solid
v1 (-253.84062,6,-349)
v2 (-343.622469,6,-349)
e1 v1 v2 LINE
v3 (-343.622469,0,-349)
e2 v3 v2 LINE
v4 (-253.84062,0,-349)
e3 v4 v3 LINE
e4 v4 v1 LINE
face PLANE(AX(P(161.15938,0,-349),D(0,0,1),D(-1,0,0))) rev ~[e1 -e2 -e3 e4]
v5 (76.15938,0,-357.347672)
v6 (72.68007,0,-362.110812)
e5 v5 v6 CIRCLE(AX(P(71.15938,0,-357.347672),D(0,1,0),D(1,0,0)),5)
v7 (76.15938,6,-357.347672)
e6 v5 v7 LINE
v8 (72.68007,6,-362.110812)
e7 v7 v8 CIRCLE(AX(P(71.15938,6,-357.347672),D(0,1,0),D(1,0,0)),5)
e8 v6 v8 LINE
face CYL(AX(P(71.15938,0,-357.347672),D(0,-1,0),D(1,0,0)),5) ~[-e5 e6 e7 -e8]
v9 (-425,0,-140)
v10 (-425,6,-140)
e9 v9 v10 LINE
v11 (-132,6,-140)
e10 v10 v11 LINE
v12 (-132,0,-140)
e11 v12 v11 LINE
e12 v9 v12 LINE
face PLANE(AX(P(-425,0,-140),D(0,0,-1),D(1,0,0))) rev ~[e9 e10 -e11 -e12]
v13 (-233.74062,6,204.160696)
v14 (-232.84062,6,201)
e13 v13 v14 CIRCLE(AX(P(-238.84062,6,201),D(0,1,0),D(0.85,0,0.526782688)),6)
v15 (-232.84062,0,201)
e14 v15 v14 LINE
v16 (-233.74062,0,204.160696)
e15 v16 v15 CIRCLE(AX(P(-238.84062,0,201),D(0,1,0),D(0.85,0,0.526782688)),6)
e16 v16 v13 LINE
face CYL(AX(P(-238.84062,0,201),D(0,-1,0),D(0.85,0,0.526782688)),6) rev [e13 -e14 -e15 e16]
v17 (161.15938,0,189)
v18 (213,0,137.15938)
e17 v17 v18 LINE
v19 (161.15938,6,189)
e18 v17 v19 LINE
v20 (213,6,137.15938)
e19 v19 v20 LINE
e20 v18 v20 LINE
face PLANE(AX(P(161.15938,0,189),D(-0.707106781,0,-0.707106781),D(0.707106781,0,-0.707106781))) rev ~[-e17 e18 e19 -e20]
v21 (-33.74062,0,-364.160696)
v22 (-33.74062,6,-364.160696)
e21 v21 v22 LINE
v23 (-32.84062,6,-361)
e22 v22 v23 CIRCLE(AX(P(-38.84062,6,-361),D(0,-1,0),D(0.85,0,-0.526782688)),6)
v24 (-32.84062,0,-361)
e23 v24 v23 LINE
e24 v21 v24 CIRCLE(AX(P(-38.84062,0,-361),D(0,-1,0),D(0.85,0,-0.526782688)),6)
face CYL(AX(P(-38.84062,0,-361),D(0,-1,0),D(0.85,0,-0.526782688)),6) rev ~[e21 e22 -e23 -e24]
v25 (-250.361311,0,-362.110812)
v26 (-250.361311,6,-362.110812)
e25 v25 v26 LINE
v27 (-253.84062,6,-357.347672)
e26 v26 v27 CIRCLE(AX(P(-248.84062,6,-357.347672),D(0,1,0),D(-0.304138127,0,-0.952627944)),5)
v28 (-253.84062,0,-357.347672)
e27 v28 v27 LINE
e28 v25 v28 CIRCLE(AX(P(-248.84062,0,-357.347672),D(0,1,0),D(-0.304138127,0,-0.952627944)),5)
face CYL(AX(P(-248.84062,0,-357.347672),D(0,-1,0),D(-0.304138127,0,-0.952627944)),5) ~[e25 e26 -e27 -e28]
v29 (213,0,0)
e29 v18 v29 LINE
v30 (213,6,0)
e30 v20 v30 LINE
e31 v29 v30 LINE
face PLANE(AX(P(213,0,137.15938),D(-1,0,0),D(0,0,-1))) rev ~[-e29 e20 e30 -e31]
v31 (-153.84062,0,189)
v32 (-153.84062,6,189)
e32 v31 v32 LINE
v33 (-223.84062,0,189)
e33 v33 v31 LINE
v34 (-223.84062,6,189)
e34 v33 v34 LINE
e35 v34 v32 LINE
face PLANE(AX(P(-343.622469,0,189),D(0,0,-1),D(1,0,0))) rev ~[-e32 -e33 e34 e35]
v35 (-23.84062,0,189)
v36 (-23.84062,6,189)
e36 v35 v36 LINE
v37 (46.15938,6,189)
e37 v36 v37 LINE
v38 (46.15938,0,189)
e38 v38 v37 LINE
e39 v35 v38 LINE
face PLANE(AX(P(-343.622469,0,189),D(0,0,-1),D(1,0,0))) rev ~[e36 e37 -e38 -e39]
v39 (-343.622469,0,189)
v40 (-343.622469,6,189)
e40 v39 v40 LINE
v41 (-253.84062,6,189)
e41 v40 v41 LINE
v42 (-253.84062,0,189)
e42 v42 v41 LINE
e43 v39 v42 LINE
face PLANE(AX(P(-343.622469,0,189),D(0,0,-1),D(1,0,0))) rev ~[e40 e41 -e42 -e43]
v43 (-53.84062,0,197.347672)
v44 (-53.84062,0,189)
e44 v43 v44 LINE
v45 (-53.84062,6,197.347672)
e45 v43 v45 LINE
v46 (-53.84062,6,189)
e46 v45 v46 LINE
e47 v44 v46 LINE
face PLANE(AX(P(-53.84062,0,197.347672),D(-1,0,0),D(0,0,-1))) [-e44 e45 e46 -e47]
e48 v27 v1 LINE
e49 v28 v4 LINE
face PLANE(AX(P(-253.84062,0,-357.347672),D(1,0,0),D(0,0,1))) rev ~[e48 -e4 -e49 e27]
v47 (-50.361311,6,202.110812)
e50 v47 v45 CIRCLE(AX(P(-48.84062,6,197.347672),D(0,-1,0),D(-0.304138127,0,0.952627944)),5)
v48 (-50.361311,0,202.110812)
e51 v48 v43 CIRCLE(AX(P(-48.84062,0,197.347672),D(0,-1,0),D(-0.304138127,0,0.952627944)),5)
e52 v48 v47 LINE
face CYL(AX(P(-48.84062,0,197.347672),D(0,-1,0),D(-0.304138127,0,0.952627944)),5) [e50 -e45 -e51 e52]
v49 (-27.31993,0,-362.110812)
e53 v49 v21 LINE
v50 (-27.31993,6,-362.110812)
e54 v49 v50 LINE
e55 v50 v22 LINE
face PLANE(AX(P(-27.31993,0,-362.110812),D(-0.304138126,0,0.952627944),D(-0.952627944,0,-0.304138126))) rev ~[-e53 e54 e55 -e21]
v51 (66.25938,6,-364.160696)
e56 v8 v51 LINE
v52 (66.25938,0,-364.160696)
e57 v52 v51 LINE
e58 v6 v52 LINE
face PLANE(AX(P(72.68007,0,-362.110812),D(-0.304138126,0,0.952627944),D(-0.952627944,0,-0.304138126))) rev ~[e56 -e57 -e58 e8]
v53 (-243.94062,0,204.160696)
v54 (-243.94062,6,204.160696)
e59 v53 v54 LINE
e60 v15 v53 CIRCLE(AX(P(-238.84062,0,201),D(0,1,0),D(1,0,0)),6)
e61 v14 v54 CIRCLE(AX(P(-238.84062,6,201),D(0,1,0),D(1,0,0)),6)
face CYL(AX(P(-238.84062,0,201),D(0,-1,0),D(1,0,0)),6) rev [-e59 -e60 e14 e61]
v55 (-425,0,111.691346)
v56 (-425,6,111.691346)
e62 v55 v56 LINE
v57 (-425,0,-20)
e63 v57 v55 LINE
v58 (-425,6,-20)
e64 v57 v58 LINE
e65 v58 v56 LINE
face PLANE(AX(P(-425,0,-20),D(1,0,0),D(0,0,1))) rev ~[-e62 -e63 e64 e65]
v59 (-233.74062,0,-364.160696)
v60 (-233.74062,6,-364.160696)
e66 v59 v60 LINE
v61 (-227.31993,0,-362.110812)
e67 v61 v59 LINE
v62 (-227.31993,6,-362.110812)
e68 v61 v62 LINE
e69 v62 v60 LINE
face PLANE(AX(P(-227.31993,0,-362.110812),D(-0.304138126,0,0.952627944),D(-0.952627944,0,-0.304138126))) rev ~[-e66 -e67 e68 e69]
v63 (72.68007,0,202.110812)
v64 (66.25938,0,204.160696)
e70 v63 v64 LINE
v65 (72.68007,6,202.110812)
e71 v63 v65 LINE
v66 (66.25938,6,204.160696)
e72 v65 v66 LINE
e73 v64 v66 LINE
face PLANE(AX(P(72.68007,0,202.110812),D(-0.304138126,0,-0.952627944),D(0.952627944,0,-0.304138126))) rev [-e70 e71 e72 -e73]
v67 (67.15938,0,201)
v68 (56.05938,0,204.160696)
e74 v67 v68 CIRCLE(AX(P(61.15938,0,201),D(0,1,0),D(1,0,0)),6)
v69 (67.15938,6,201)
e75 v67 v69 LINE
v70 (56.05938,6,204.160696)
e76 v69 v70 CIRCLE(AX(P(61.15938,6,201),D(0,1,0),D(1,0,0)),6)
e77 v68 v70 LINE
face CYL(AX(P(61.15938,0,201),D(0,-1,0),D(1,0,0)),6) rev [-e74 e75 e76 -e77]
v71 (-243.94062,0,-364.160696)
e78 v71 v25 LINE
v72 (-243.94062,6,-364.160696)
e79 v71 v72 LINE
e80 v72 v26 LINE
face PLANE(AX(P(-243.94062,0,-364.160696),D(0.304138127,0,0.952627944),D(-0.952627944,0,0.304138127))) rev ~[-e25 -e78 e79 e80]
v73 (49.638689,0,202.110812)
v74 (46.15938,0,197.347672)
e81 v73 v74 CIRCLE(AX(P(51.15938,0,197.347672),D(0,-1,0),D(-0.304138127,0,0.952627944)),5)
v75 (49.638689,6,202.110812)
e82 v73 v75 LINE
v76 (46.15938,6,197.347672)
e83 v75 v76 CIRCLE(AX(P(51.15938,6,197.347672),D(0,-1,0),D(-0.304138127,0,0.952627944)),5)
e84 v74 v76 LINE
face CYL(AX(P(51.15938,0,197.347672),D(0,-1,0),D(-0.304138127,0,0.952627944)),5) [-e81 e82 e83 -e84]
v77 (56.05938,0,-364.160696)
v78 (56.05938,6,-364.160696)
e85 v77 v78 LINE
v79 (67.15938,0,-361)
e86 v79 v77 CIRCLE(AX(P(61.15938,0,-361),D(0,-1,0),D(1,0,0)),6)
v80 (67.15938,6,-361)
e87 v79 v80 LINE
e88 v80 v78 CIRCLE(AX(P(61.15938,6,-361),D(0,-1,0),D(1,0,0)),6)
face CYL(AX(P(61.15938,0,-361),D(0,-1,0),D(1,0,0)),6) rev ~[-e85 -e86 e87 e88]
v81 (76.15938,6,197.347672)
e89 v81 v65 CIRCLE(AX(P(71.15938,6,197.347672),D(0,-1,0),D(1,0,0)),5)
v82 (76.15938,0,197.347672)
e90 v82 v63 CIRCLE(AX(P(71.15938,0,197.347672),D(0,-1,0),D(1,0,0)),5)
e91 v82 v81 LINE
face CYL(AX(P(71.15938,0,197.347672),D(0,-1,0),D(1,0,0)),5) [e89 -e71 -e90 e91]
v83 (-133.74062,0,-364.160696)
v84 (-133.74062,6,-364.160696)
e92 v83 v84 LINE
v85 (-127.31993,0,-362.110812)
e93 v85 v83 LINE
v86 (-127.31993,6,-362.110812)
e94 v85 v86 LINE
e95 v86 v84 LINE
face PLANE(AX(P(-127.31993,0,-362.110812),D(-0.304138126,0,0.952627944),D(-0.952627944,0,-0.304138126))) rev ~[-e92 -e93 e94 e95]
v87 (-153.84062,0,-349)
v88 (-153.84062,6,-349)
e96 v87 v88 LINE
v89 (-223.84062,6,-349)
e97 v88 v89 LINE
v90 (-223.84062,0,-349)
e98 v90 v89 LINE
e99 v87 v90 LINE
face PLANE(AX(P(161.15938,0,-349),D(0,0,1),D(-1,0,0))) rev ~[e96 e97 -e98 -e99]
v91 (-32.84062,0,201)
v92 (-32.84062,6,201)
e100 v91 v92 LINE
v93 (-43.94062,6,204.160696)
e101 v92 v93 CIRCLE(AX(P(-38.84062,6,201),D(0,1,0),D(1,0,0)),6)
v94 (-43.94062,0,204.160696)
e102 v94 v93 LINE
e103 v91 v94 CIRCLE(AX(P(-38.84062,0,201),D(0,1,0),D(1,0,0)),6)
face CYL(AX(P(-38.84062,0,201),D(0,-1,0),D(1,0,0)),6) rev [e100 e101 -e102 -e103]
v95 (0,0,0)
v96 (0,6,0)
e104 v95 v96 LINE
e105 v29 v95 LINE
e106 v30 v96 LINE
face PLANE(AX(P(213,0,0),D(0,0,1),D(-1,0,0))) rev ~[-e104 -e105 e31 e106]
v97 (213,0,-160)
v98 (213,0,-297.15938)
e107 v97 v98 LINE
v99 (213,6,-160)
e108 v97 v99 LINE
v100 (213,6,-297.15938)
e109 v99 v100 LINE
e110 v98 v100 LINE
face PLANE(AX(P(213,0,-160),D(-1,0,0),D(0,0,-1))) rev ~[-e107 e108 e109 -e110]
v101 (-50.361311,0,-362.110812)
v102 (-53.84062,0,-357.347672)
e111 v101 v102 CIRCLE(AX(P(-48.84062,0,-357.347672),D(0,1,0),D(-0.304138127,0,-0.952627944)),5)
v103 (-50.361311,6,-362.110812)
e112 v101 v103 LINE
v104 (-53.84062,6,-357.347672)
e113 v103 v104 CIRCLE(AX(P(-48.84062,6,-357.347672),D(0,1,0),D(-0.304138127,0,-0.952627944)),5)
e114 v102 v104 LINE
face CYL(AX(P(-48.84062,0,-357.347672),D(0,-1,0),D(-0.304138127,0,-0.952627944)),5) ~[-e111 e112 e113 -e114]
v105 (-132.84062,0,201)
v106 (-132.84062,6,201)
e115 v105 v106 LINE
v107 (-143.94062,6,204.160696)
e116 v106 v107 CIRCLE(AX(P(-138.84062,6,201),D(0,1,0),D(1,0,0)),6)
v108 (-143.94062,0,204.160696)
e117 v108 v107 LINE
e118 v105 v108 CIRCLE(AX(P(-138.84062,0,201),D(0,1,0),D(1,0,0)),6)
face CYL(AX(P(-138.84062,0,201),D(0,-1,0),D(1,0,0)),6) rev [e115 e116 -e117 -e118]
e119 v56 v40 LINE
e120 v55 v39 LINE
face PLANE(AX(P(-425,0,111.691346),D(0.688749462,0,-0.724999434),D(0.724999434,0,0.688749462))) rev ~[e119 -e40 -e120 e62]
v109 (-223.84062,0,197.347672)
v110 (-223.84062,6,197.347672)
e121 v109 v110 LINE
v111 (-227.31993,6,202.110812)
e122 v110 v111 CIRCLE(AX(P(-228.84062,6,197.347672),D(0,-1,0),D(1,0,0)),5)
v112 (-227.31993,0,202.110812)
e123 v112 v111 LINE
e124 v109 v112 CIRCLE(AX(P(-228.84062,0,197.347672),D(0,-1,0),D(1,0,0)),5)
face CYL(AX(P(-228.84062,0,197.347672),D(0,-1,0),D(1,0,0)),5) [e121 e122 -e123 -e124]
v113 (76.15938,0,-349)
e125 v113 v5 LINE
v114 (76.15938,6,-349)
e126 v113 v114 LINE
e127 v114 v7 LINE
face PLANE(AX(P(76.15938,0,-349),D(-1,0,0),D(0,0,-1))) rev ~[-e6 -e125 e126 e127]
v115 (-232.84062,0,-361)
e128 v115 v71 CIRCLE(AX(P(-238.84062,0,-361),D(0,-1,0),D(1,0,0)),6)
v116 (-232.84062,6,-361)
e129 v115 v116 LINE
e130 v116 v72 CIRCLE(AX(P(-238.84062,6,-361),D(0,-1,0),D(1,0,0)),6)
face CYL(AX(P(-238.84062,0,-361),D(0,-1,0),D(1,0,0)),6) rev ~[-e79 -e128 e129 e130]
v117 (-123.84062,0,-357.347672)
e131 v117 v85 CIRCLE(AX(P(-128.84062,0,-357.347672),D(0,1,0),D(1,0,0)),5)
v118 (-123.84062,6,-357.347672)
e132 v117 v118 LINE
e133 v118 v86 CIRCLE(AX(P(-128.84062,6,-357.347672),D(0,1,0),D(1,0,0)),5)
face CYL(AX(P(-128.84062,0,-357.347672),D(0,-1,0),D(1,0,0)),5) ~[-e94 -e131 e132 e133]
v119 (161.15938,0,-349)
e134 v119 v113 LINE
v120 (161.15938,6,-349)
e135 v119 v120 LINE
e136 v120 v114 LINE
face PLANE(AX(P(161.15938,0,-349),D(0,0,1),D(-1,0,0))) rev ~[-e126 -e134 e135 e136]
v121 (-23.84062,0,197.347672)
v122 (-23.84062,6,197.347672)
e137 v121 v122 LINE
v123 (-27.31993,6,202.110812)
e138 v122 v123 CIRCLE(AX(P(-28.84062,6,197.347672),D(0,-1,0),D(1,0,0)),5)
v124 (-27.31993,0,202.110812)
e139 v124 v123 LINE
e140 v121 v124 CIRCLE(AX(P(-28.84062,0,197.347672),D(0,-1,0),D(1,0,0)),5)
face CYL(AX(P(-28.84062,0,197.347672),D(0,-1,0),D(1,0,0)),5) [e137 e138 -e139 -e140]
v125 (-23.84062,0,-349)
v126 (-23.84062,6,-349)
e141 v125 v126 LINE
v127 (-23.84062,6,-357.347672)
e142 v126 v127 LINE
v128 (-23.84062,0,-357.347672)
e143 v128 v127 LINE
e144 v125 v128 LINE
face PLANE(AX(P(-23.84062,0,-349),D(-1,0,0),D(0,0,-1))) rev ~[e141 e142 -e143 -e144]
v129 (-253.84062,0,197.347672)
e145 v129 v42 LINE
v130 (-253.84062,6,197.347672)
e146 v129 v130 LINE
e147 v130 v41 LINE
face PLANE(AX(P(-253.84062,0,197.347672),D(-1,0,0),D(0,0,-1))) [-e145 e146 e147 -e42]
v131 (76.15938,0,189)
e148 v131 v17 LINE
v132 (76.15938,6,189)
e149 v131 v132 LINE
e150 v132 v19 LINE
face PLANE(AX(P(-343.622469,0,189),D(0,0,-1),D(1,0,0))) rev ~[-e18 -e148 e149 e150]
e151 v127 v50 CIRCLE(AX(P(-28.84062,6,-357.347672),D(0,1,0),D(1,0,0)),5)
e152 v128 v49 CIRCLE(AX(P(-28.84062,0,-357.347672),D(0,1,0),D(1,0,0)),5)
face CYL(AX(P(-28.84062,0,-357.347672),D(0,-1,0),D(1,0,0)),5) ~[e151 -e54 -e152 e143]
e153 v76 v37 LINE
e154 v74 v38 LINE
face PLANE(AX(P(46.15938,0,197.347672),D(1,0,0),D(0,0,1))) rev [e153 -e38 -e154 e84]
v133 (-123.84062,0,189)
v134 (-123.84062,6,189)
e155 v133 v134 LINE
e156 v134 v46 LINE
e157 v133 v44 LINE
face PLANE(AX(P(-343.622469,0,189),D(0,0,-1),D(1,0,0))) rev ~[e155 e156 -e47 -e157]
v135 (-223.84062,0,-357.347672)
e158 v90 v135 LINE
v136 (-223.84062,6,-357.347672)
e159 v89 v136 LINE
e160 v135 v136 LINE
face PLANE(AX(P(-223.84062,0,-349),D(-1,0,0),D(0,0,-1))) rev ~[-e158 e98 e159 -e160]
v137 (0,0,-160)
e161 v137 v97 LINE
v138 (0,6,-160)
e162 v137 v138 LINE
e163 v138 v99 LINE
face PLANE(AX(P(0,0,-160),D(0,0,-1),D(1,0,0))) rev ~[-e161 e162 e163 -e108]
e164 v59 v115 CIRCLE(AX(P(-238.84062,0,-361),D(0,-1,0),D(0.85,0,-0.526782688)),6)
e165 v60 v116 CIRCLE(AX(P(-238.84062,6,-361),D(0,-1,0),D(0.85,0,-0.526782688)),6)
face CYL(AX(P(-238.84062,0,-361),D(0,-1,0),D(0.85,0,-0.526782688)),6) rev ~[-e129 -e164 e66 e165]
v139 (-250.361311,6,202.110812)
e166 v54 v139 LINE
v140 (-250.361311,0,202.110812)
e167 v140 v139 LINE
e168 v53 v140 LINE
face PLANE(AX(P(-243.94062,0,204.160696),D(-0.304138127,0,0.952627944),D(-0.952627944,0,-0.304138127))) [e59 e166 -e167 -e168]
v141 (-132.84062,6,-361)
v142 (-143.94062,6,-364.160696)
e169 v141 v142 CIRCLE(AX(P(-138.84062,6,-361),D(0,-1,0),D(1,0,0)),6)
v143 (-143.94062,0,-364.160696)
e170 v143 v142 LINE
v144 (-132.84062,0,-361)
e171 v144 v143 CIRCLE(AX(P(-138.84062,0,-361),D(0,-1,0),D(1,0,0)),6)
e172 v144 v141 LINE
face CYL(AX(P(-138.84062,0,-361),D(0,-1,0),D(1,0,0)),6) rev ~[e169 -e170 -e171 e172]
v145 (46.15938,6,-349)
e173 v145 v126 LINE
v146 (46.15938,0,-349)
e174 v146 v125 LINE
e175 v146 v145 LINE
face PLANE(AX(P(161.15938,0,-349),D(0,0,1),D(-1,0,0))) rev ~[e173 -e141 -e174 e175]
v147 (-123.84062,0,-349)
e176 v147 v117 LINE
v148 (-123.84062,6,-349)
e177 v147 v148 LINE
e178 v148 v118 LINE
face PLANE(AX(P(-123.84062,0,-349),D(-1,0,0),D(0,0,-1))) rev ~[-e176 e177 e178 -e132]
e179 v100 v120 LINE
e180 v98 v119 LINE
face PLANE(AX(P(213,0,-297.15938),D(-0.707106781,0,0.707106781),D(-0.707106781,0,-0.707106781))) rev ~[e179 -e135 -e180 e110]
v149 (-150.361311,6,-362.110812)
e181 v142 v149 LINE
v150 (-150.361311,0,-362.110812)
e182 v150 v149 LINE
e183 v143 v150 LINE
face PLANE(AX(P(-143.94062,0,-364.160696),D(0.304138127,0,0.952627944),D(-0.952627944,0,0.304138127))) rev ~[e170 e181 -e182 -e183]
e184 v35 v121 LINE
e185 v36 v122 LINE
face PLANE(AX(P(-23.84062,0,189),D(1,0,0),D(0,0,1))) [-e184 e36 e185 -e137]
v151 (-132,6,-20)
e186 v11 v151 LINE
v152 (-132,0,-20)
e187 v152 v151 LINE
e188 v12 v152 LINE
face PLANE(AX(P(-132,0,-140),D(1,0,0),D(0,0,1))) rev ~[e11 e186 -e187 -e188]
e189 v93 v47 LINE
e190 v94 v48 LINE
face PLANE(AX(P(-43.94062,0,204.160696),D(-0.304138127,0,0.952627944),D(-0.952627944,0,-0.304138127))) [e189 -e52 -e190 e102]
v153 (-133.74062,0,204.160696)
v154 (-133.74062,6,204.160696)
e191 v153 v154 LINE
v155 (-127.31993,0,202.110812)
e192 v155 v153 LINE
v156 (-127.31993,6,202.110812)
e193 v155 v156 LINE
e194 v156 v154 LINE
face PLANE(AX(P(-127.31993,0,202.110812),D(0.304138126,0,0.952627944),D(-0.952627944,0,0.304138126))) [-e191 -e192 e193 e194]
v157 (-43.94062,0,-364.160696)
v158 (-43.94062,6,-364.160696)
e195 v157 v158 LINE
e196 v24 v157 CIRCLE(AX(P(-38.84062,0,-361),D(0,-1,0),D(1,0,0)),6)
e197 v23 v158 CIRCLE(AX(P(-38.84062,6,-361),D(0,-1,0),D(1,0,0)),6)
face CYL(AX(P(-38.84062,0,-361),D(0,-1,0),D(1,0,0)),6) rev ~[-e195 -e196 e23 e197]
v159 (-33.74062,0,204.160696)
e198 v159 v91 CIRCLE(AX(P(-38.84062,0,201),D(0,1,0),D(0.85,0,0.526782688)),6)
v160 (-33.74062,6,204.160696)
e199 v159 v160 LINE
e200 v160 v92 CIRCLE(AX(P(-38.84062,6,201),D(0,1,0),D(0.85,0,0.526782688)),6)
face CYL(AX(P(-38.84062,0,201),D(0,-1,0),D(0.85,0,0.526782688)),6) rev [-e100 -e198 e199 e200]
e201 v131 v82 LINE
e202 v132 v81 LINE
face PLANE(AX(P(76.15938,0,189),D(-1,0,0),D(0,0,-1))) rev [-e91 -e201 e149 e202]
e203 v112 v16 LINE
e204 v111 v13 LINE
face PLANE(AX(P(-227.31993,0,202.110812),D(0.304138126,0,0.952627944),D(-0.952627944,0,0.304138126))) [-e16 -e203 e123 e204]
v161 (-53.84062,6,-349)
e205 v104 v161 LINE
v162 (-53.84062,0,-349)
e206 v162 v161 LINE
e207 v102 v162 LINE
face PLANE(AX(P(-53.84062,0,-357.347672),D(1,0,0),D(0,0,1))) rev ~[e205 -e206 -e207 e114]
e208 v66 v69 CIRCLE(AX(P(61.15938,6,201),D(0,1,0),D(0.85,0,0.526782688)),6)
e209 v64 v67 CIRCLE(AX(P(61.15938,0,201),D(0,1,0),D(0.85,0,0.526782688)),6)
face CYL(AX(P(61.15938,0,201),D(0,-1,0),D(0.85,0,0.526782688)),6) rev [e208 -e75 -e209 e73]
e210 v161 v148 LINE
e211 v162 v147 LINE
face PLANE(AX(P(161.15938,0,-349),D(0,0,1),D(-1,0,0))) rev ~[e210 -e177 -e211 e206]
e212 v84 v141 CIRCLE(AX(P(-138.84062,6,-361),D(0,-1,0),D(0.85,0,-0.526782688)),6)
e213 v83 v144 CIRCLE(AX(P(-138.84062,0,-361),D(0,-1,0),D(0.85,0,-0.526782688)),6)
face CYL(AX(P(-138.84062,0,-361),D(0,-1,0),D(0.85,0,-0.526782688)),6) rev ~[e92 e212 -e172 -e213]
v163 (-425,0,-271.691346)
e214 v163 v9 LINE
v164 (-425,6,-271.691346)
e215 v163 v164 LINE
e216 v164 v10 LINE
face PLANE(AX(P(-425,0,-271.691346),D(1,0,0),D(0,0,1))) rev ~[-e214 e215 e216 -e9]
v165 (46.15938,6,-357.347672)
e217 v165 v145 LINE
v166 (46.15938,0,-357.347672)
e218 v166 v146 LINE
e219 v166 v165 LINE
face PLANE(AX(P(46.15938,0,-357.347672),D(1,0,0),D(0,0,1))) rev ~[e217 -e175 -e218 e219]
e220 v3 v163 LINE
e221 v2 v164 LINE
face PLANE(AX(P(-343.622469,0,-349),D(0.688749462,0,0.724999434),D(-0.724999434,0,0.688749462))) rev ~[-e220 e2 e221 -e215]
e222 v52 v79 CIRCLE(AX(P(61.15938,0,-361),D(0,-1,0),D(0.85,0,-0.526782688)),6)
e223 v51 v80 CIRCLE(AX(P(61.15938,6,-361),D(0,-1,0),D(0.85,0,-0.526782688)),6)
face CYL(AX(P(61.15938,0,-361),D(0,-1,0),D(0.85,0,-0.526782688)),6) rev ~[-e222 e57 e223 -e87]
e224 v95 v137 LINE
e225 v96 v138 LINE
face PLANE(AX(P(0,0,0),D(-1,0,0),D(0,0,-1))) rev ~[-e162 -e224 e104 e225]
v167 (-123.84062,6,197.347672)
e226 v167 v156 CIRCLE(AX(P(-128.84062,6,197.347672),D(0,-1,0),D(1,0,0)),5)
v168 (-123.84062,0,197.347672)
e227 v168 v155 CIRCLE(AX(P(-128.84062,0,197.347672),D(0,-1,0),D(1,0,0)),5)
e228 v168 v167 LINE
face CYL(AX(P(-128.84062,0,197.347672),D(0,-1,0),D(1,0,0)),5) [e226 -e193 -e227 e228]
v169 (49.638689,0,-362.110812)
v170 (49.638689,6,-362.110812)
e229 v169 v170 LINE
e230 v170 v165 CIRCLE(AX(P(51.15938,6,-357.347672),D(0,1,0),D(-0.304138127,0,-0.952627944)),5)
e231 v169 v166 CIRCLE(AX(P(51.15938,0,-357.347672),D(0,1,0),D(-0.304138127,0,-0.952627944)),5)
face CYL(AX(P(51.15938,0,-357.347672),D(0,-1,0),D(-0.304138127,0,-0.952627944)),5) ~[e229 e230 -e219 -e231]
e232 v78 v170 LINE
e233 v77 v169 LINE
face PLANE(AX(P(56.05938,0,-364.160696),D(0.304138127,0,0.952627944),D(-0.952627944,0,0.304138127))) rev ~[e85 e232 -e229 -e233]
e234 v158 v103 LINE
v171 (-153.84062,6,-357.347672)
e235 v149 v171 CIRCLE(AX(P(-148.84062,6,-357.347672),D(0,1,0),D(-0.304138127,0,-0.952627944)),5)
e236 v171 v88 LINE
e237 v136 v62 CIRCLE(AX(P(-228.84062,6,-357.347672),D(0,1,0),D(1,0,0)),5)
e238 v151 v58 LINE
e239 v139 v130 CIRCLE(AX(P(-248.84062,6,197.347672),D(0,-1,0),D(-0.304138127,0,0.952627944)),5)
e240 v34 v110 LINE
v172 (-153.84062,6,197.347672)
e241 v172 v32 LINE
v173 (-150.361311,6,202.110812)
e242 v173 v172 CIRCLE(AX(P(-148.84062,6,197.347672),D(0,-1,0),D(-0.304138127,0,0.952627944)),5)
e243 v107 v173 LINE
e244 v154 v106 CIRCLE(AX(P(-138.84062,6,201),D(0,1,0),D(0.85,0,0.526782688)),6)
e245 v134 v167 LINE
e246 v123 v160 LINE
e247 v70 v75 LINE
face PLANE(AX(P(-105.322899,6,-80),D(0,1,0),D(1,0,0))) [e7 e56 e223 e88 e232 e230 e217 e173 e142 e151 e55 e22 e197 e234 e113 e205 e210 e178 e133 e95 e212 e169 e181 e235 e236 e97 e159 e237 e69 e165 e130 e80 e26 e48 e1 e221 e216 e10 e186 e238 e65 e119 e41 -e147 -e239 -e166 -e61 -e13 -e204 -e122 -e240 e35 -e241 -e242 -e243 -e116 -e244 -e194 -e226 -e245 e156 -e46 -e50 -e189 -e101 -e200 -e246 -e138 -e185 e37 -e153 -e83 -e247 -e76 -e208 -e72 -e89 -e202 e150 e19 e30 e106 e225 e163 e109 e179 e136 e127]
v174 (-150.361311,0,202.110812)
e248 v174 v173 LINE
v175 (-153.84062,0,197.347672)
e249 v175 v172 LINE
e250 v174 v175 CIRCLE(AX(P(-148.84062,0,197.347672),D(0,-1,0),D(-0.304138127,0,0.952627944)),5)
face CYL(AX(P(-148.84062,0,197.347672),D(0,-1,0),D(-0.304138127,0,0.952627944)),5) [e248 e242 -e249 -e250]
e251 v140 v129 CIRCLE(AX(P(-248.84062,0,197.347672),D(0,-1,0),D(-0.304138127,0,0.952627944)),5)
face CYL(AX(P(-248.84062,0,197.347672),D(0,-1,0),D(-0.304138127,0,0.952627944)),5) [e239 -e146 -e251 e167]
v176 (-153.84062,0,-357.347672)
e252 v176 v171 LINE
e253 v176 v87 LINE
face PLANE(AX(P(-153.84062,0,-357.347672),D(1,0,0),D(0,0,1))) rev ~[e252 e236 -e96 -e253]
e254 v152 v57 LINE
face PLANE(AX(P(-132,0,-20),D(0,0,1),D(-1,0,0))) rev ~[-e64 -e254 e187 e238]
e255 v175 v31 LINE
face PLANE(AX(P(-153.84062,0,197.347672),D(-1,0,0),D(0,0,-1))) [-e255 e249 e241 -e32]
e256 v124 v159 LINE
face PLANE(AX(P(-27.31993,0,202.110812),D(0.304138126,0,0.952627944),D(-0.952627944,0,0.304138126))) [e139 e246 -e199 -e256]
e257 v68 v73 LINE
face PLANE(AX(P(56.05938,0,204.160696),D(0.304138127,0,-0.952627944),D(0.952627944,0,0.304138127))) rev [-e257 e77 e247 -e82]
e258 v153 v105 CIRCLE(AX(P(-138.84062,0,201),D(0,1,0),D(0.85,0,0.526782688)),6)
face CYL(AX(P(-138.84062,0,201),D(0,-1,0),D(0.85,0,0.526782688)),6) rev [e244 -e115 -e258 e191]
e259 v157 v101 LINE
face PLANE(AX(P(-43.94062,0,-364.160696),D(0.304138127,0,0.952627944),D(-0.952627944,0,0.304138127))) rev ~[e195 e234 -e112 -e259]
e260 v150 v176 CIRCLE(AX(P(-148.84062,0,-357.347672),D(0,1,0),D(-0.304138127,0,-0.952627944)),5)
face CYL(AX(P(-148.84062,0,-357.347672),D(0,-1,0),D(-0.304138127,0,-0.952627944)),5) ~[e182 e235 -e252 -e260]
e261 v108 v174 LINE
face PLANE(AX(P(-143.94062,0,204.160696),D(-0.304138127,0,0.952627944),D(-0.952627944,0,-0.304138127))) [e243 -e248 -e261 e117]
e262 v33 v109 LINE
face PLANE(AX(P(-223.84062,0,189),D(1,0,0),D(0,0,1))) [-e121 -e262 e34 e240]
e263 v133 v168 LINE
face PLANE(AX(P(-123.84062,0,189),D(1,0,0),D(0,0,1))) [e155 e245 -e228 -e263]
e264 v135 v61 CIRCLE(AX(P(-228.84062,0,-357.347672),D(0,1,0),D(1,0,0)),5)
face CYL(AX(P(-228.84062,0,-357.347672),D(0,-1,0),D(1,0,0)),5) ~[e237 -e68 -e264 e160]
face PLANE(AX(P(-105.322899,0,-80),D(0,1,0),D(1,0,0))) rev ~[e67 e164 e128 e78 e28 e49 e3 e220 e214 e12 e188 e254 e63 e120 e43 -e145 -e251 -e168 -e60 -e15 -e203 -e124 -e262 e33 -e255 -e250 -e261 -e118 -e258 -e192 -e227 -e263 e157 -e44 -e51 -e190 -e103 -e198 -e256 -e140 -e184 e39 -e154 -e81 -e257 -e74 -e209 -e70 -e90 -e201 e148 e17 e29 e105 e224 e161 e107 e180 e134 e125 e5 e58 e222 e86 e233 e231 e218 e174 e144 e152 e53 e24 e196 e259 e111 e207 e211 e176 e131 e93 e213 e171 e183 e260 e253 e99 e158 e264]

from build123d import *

# Parameters (mm, degrees)
BOSS_EXTRUDE1_DEPTH  = 6
BOSS_EXTRUDE2_DEPTH  = 6
LPATTERN1_COUNT      = 4
LPATTERN1_PITCH      = 100
MIRROR1_COPY_1_DEPTH = 6
MIRROR1_COPY_2_DEPTH = 6
MIRROR1_COPY_3_DEPTH = 6


with BuildPart() as part:
    # Sketch1 → Boss-Extrude1 (new body)
    with BuildSketch(Plane(origin=(0, 0, 0), x_dir=(1, 0, 0), z_dir=(0, 1, 0))):
        Polygon((0, 160), (213, 160), (213, 297.159379566), (161.159379566, 349), (76.159379566, 349), (46.159379566, 349), (-343.622469374, 349), (-425, 271.691345905), (-425, 140), (-132, 140), (-132, 20), (-425, 20), (-425, -111.691345905), (-343.622469374, -189), (161.159379566, -189), (213, -137.159379566), (213, 0), (0, 0), align=None)
    extrude(amount=BOSS_EXTRUDE1_DEPTH)

    # Sketch1<3> → Boss-Extrude2 (add)
    with BuildSketch(Plane(origin=(0, 0, 0), x_dir=(1, 0, 0), z_dir=(0, 1, 0))):
        with BuildLine():
            Line((46.159379566, 349), (76.159379566, 349))
            Line((76.159379566, 349), (76.159379566, 357.347672364))
            ThreePointArc((76.159379566, 357.347672364), (75.196919236, 360.296955907), (72.680070199, 362.110812085))
            Line((72.680070199, 362.110812085), (66.259379566, 364.160696126))
            ThreePointArc((66.259379566, 364.160696126), (66.929994785, 362.643167673), (67.159379566, 361))
            ThreePointArc((67.159379566, 361), (59.516211894, 355.229384781), (56.059379566, 364.160696126))
            Line((56.059379566, 364.160696126), (49.638688934, 362.110812085))
            ThreePointArc((49.638688934, 362.110812085), (47.121839897, 360.296955907), (46.159379566, 357.347672364))
            Line((46.159379566, 357.347672364), (46.159379566, 349))
        make_face()
    boss_extrude2 = extrude(amount=BOSS_EXTRUDE2_DEPTH)

    # LPattern1: Boss-Extrude2 ×4
    with Locations(*[(-i * LPATTERN1_PITCH, 0, 0) for i in range(1, LPATTERN1_COUNT)]):
        add(boss_extrude2)

    # Mirror1: Boss-Extrude2 across plane
    add(boss_extrude2.mirror(Plane.XY.offset(-80)))

    # Mirror1 copy 1 sketch → Mirror1 copy 1 (add)
    with BuildSketch(Plane(origin=(-100, 0, -160), x_dir=(1, 0, 0), z_dir=(0, 1, 0))):
        with BuildLine():
            Line((46.159379566, -349), (76.159379566, -349))
            Line((76.159379566, -349), (76.159379566, -357.347672364))
            ThreePointArc((76.159379566, -357.347672364), (75.196919236, -360.296955907), (72.680070199, -362.110812085))
            Line((72.680070199, -362.110812085), (66.259379566, -364.160696126))
            ThreePointArc((66.259379566, -364.160696126), (66.929994785, -362.643167673), (67.159379566, -361))
            ThreePointArc((67.159379566, -361), (59.516211894, -355.229384781), (56.059379566, -364.160696126))
            Line((56.059379566, -364.160696126), (49.638688934, -362.110812085))
            ThreePointArc((49.638688934, -362.110812085), (47.121839897, -360.296955907), (46.159379566, -357.347672364))
            Line((46.159379566, -357.347672364), (46.159379566, -349))
        make_face()
    extrude(amount=MIRROR1_COPY_1_DEPTH)

    # Mirror1 copy 2 sketch → Mirror1 copy 2 (add)
    with BuildSketch(Plane(origin=(-200, 0, -160), x_dir=(1, 0, 0), z_dir=(0, 1, 0))):
        with BuildLine():
            Line((46.159379566, -349), (76.159379566, -349))
            Line((76.159379566, -349), (76.159379566, -357.347672364))
            ThreePointArc((76.159379566, -357.347672364), (75.196919236, -360.296955907), (72.680070199, -362.110812085))
            Line((72.680070199, -362.110812085), (66.259379566, -364.160696126))
            ThreePointArc((66.259379566, -364.160696126), (66.929994785, -362.643167673), (67.159379566, -361))
            ThreePointArc((67.159379566, -361), (59.516211894, -355.229384781), (56.059379566, -364.160696126))
            Line((56.059379566, -364.160696126), (49.638688934, -362.110812085))
            ThreePointArc((49.638688934, -362.110812085), (47.121839897, -360.296955907), (46.159379566, -357.347672364))
            Line((46.159379566, -357.347672364), (46.159379566, -349))
        make_face()
    extrude(amount=MIRROR1_COPY_2_DEPTH)

    # Mirror1 copy 3 sketch → Mirror1 copy 3 (add)
    with BuildSketch(Plane(origin=(-300, 0, -160), x_dir=(1, 0, 0), z_dir=(0, 1, 0))):
        with BuildLine():
            Line((46.159379566, -349), (76.159379566, -349))
            Line((76.159379566, -349), (76.159379566, -357.347672364))
            ThreePointArc((76.159379566, -357.347672364), (75.196919236, -360.296955907), (72.680070199, -362.110812085))
            Line((72.680070199, -362.110812085), (66.259379566, -364.160696126))
            ThreePointArc((66.259379566, -364.160696126), (66.929994785, -362.643167673), (67.159379566, -361))
            ThreePointArc((67.159379566, -361), (59.516211894, -355.229384781), (56.059379566, -364.160696126))
            Line((56.059379566, -364.160696126), (49.638688934, -362.110812085))
            ThreePointArc((49.638688934, -362.110812085), (47.121839897, -360.296955907), (46.159379566, -357.347672364))
            Line((46.159379566, -357.347672364), (46.159379566, -349))
        make_face()
    extrude(amount=MIRROR1_COPY_3_DEPTH)


solid = part.part
